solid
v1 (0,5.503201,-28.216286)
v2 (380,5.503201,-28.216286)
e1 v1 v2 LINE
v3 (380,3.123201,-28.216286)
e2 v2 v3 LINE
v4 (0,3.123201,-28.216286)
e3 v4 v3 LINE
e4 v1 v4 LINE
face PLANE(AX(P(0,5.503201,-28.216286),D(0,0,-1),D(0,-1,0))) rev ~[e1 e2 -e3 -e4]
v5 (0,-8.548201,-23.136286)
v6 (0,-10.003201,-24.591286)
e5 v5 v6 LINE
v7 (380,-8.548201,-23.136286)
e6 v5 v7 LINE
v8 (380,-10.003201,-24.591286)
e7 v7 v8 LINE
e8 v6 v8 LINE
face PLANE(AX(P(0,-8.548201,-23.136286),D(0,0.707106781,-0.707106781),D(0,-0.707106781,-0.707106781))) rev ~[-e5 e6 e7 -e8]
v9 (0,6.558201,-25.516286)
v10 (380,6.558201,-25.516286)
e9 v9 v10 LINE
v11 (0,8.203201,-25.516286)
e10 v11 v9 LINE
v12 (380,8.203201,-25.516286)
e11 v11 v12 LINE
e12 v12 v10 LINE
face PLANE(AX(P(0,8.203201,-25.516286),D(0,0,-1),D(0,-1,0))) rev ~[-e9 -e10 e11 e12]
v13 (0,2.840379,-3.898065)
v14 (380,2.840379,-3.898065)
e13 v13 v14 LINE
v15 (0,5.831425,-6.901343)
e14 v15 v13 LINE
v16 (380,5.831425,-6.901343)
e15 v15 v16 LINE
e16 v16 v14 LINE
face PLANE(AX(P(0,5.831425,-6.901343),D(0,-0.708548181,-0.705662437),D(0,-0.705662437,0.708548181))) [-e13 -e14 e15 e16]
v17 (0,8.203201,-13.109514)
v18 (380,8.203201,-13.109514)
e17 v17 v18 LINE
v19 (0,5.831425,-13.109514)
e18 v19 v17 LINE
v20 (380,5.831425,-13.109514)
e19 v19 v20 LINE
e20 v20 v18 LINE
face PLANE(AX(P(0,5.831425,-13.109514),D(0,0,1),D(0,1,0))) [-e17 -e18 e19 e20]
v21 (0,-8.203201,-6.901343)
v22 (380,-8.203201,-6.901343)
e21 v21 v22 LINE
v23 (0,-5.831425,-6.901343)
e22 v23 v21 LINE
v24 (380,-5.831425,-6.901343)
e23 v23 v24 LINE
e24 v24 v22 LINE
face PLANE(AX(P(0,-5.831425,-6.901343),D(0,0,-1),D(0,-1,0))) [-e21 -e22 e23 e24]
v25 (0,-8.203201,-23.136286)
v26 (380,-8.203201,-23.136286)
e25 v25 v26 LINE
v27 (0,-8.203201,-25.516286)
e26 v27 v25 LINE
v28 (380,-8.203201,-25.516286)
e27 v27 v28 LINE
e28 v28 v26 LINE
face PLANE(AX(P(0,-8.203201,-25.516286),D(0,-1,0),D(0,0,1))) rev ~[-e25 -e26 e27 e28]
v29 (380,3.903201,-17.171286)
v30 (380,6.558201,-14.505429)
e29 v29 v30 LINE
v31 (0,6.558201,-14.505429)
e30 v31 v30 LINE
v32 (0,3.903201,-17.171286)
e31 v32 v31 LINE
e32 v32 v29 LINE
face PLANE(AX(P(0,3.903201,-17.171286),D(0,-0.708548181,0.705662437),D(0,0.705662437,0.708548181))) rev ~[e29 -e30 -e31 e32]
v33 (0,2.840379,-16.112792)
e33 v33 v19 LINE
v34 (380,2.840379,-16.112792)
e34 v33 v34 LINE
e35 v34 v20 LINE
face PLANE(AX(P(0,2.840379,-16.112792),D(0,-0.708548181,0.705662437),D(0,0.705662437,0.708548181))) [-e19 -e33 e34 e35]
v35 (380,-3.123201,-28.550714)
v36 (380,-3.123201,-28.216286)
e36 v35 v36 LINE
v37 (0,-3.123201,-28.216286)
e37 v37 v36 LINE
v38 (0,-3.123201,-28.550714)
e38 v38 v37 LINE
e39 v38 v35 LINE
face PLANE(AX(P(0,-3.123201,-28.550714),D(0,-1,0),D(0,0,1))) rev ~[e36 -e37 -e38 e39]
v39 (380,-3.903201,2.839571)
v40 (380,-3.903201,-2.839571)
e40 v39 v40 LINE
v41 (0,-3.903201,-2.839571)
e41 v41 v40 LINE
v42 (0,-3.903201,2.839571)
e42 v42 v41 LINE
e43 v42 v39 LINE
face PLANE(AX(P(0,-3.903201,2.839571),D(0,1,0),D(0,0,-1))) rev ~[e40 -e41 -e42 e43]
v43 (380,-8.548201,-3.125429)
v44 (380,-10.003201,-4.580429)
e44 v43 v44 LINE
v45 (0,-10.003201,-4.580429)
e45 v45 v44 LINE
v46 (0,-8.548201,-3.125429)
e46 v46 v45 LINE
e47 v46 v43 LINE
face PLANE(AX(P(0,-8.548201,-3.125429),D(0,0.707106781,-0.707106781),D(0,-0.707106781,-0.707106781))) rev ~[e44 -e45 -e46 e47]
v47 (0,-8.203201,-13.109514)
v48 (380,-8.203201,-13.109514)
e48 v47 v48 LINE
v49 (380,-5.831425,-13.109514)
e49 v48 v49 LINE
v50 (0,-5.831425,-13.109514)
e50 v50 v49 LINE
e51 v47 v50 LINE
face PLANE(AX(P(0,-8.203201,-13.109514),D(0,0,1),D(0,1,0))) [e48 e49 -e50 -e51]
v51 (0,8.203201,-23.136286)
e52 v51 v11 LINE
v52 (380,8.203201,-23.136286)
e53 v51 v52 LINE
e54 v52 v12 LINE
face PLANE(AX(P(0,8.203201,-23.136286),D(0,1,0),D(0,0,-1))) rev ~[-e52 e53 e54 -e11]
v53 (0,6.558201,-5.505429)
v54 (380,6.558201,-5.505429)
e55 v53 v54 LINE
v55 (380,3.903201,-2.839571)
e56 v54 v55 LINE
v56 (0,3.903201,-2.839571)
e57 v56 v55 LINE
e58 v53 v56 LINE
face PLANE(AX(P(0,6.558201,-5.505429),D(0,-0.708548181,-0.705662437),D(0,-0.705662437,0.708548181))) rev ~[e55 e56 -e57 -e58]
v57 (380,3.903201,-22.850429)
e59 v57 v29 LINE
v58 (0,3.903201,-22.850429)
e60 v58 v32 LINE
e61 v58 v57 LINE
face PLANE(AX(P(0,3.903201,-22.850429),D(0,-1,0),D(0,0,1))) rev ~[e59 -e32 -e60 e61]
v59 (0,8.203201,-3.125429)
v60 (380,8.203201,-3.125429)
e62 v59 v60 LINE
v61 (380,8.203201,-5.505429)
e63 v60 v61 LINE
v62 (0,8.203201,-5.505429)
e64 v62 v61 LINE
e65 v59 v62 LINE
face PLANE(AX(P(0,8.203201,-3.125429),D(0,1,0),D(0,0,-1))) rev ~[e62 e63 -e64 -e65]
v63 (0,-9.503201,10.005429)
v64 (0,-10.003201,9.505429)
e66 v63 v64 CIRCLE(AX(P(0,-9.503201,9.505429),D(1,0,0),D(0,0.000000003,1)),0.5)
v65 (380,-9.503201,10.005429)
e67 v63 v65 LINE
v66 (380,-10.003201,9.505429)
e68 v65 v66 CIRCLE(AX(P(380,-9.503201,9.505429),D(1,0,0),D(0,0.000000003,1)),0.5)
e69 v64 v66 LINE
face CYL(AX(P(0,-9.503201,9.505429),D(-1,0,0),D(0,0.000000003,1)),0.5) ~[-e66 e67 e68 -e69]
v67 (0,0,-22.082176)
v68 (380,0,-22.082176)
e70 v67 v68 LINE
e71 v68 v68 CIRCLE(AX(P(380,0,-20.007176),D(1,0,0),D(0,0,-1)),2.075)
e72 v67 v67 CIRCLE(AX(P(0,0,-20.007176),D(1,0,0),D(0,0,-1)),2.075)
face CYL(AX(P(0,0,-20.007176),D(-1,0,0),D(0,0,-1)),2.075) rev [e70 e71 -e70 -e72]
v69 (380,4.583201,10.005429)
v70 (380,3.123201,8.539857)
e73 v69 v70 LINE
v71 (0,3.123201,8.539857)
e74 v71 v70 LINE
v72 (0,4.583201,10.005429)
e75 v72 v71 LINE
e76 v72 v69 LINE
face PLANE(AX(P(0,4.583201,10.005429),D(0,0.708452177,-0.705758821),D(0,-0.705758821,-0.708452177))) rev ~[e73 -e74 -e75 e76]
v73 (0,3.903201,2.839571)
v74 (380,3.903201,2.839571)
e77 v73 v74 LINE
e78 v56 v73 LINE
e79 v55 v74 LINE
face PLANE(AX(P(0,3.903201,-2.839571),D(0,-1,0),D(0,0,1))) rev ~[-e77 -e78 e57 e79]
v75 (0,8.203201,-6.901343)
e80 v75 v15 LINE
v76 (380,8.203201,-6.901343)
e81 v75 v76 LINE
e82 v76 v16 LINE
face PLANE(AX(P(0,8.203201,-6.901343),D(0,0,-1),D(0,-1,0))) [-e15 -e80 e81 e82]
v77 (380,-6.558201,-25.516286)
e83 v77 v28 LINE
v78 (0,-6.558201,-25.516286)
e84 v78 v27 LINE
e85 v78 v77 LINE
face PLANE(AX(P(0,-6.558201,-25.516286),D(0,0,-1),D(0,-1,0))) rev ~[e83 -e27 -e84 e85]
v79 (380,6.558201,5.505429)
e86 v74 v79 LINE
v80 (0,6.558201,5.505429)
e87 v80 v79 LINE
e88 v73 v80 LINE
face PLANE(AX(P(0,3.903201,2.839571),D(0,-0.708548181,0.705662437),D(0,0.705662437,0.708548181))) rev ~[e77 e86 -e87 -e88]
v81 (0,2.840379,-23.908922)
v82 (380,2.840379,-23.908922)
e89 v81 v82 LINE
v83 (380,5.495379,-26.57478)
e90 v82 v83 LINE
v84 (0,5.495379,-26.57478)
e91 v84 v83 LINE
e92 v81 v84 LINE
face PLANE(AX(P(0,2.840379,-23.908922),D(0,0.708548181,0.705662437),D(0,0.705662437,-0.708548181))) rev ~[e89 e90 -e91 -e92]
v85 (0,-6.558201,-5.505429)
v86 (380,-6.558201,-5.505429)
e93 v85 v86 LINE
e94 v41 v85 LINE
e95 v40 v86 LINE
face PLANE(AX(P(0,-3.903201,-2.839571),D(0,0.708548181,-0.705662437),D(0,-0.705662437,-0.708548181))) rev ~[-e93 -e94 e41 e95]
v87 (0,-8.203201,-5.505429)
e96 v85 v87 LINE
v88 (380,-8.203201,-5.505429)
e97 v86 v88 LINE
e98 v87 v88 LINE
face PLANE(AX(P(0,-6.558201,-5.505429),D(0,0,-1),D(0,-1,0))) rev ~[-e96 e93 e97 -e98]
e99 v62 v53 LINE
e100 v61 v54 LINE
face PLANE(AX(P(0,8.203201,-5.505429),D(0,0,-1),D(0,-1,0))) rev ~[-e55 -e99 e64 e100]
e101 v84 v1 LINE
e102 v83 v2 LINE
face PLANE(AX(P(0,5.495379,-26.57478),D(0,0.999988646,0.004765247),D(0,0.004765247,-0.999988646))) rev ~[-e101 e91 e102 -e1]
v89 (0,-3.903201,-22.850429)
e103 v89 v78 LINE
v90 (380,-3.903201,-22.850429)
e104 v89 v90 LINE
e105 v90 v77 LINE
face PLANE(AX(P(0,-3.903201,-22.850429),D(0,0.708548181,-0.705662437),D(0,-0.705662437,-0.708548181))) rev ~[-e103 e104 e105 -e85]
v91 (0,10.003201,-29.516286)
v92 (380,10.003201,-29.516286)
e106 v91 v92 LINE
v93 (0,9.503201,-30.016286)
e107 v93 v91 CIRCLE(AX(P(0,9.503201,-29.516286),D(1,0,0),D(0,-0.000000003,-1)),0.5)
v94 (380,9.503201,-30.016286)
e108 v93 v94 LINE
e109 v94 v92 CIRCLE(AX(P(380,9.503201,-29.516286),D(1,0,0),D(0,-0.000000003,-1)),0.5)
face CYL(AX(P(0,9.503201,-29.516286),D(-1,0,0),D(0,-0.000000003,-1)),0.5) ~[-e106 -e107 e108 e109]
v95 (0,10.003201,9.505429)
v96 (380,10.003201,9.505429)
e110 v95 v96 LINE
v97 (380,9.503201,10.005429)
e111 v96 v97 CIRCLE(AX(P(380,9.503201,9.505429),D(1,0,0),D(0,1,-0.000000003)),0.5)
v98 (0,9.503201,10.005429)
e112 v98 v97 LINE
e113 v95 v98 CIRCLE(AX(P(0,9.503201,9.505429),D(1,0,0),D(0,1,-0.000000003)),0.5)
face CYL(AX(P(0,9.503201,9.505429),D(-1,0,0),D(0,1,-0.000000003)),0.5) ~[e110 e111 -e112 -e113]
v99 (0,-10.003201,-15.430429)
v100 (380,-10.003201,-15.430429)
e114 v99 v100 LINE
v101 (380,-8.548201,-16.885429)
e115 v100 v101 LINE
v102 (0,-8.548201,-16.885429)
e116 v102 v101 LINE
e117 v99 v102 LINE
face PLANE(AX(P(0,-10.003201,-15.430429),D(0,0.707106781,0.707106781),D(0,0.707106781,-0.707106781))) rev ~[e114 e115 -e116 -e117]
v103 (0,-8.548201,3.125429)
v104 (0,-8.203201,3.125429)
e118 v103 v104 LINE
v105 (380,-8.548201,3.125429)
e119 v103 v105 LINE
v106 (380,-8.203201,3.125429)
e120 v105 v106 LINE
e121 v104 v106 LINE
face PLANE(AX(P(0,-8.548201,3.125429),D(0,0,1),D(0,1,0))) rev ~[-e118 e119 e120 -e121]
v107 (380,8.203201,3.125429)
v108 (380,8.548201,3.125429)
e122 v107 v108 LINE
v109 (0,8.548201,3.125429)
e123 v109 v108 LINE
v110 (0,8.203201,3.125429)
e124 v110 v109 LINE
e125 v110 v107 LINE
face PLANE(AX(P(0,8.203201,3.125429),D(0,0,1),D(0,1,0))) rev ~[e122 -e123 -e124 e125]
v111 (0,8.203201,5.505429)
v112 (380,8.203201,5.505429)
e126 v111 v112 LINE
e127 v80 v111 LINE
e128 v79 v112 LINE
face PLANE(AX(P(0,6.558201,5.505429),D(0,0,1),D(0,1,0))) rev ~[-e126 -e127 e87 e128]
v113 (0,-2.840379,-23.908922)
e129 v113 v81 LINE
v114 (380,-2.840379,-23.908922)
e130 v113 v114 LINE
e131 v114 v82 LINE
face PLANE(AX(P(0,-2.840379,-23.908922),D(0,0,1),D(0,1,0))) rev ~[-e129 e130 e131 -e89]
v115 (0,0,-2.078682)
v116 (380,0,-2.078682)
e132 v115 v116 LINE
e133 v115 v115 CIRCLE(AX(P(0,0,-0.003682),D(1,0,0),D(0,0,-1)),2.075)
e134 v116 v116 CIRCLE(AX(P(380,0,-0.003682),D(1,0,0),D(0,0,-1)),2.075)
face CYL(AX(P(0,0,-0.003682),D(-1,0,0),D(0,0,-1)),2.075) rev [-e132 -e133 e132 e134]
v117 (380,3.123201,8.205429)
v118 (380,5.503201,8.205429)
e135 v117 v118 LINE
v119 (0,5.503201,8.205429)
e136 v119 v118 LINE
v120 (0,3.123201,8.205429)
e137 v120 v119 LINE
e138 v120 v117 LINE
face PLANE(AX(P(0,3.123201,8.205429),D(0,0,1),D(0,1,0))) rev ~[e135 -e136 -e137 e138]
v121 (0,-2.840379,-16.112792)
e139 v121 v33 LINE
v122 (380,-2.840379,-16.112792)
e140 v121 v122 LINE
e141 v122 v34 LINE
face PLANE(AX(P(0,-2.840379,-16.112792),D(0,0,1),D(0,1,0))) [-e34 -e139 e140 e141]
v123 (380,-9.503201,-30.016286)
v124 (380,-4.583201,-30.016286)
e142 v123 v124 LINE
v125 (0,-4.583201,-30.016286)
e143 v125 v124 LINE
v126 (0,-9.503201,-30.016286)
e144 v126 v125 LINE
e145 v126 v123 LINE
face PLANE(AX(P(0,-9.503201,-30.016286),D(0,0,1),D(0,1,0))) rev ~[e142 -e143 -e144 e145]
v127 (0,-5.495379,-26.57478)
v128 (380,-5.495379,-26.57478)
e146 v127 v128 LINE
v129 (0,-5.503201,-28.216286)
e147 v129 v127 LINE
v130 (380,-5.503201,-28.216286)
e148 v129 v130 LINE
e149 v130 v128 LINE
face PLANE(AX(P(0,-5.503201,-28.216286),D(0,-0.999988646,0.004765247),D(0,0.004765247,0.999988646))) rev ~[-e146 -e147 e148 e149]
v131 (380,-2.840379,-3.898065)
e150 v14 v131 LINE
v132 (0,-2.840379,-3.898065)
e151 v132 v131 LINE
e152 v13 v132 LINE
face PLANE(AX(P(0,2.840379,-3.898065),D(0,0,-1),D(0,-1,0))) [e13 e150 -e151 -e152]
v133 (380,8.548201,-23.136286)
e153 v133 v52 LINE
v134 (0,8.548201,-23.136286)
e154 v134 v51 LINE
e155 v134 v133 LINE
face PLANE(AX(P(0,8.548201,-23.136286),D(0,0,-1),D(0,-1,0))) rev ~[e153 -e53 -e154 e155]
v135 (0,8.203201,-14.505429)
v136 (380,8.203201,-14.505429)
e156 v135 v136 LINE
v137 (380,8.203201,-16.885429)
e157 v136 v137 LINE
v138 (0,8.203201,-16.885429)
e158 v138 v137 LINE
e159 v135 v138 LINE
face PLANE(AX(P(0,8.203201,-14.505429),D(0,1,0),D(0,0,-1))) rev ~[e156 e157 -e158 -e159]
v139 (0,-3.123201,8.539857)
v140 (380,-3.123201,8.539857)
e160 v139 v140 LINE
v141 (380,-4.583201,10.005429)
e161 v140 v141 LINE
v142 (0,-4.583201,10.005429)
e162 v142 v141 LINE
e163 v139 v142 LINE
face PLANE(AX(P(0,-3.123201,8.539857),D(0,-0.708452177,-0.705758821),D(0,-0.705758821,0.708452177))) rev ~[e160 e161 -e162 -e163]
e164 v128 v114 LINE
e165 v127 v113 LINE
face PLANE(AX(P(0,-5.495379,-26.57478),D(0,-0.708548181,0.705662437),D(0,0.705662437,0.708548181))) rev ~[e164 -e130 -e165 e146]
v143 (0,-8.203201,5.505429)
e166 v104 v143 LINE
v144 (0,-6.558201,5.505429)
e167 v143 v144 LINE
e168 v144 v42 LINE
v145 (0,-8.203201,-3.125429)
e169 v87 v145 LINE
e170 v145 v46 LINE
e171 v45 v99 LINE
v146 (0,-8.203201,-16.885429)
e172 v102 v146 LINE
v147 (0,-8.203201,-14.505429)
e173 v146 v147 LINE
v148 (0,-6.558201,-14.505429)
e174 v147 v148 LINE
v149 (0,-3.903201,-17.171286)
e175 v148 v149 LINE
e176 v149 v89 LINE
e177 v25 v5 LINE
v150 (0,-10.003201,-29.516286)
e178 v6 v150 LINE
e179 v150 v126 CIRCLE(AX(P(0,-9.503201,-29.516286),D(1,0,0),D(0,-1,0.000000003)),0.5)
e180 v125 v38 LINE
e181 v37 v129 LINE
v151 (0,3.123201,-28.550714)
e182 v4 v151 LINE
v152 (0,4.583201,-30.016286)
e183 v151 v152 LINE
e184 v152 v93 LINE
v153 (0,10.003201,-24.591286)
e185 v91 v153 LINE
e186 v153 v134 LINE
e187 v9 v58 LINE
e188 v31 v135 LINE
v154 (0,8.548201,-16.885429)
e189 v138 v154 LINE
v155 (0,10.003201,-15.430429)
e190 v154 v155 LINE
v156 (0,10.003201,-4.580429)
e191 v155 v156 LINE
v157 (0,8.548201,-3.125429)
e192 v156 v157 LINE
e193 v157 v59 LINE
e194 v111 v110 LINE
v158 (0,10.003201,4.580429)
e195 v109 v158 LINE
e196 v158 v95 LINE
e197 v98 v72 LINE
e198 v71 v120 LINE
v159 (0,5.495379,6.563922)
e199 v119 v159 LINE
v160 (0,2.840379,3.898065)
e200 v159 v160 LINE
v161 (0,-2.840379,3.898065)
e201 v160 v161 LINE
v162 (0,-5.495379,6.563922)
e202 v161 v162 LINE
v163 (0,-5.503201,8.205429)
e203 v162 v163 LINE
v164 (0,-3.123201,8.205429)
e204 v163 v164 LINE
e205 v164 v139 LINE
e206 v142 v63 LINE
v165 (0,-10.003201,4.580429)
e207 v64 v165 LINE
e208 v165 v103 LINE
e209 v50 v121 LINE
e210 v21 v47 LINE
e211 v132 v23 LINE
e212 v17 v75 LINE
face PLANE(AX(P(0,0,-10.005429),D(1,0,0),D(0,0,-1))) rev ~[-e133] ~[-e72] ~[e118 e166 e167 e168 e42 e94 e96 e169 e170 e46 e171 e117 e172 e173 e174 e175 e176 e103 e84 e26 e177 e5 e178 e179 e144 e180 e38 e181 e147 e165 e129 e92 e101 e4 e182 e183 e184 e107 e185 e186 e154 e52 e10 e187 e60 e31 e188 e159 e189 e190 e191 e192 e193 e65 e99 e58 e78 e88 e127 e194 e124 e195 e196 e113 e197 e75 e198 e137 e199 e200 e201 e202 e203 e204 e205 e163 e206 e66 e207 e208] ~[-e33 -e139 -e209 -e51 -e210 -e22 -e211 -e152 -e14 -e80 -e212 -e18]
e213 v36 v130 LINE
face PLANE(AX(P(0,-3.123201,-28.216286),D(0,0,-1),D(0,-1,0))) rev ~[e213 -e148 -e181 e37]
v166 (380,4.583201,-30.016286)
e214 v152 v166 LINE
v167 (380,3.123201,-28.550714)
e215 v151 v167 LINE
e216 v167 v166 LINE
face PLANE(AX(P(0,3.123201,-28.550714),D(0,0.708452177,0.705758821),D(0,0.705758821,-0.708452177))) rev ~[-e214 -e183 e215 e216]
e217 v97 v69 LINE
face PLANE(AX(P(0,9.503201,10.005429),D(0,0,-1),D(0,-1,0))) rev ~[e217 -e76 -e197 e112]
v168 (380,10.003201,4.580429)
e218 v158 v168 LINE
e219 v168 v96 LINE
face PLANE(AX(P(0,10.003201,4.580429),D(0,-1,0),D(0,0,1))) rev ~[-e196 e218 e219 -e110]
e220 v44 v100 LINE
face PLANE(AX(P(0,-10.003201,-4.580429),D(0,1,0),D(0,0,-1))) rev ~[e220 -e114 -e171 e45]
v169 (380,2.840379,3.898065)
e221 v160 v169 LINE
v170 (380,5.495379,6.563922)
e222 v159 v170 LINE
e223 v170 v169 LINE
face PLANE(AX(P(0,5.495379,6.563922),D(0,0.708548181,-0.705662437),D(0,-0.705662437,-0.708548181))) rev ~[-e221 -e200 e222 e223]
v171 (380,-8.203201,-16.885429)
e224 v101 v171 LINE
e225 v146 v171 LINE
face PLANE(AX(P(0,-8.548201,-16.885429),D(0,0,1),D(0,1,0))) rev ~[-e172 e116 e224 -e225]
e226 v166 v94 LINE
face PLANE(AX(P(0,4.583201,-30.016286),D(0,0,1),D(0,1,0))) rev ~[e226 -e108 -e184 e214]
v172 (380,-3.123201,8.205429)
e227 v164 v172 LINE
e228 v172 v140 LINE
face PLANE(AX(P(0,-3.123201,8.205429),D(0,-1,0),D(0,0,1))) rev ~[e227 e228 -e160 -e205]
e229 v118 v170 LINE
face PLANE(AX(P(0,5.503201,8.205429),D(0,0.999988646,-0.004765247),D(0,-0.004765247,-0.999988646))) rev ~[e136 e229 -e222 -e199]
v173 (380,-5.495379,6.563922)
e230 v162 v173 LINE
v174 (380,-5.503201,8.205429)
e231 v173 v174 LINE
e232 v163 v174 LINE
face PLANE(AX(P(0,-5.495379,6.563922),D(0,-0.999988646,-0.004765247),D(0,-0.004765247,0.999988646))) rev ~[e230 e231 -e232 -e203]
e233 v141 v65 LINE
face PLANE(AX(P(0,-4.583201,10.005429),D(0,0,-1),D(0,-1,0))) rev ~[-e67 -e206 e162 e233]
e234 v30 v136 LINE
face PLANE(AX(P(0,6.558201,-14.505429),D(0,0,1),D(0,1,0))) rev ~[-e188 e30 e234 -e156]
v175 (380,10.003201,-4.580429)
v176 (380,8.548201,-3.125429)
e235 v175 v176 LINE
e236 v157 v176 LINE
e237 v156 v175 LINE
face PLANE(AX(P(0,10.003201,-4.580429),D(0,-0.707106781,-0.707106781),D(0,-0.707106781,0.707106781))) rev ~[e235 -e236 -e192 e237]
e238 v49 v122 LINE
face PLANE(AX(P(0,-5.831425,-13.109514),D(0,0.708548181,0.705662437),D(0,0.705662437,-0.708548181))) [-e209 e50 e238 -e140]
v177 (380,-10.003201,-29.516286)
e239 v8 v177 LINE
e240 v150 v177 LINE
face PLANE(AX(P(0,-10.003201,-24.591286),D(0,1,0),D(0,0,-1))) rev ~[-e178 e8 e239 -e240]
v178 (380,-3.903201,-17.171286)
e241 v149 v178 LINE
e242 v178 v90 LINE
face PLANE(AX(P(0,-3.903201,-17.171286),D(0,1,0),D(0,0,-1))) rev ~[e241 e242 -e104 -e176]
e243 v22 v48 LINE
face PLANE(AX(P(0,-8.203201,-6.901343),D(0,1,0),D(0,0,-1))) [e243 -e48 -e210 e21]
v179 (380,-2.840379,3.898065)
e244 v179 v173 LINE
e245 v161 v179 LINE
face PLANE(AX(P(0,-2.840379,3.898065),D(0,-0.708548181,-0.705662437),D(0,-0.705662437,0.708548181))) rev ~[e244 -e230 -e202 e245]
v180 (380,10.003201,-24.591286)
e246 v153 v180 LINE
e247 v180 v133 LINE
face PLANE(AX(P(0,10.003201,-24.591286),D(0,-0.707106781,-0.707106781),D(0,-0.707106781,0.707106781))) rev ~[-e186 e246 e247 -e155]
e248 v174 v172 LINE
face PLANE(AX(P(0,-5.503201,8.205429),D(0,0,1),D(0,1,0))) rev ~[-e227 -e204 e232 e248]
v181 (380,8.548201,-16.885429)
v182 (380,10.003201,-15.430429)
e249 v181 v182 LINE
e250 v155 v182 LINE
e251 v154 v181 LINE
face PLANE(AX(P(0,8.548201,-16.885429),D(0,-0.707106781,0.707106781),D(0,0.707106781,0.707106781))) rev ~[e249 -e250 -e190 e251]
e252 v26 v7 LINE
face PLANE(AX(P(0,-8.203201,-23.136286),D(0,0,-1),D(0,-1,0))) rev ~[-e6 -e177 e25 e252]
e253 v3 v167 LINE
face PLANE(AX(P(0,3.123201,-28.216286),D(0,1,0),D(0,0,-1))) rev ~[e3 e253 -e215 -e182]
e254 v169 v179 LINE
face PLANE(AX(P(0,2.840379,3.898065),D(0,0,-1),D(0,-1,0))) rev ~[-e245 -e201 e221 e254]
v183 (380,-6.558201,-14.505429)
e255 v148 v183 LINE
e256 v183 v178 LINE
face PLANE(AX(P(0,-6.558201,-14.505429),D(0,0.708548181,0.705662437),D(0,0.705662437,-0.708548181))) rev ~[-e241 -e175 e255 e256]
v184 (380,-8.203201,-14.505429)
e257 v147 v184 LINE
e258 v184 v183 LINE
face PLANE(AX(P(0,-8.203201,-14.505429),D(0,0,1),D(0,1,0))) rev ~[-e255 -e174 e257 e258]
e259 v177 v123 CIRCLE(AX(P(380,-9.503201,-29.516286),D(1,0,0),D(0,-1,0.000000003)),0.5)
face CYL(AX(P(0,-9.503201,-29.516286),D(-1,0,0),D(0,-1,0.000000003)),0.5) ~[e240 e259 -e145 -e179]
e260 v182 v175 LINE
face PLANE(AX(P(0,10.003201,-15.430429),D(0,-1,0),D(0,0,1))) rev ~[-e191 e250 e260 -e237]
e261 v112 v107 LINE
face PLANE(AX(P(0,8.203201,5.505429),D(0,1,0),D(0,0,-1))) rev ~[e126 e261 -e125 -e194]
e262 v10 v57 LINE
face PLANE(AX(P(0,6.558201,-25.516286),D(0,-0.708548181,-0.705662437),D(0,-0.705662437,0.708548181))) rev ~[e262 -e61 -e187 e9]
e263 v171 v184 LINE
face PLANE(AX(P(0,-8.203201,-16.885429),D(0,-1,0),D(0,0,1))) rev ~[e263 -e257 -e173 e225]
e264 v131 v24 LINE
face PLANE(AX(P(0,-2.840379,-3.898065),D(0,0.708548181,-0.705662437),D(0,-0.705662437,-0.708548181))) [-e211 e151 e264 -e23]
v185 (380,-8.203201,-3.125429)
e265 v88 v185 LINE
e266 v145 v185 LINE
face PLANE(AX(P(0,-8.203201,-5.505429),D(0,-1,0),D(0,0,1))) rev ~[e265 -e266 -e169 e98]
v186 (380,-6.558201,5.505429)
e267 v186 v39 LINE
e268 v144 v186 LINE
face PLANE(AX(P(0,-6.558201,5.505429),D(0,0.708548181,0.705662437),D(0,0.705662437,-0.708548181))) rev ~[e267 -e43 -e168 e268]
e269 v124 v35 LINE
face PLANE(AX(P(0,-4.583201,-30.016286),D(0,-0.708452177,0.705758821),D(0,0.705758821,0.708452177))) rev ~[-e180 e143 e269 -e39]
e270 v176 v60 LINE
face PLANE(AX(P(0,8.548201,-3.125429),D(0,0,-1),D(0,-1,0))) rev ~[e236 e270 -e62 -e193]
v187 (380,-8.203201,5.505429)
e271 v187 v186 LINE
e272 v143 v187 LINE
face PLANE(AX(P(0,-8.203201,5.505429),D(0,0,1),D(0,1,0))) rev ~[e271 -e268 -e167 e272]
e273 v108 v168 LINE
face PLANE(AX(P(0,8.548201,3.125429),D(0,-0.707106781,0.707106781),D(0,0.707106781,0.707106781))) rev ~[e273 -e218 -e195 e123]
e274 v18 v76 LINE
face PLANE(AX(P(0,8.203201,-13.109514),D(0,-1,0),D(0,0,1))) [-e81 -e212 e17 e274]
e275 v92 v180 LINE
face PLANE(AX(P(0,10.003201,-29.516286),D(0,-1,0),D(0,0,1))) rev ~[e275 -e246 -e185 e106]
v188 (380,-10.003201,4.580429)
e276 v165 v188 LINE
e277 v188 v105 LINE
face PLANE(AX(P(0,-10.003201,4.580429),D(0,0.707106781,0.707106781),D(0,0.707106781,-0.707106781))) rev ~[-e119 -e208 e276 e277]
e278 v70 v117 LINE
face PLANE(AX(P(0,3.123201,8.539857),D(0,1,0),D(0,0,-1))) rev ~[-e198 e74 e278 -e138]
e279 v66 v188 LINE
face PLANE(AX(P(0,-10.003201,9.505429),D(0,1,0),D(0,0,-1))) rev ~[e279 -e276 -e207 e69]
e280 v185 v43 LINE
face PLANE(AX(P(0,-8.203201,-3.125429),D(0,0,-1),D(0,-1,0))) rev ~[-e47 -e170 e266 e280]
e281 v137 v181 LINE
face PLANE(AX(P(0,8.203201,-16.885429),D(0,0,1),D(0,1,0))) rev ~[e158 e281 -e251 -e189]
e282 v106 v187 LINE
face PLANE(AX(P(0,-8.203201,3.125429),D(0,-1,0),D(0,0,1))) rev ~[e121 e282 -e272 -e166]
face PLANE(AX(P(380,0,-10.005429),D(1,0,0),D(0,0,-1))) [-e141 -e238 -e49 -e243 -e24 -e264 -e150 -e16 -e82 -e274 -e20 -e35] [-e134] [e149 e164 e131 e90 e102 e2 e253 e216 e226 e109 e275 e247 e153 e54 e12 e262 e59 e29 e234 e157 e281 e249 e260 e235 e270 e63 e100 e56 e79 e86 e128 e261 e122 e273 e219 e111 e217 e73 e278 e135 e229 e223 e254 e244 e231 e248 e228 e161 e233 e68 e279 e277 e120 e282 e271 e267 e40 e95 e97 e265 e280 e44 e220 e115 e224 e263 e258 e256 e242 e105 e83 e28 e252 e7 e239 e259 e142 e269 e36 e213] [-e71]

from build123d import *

# Parameters (mm, degrees)
SKETCH2_R           = 2.075
BOSS_EXTRUDE1_DEPTH = 380


with BuildPart() as part:
    # Sketch2 → Boss-Extrude1 (new body)
    with BuildSketch(Plane(origin=(0, 0, 0), x_dir=(0, 0, -1), z_dir=(1, 0, 0))):
        with BuildLine():
            Line((3.125428693, 8.548200862), (3.125428693, 8.203200862))
            Line((3.125428693, 8.203200862), (5.505428693, 8.203200862))
            Line((5.505428693, 8.203200862), (5.505428693, 6.558200862))
            Line((5.505428693, 6.558200862), (2.839571307, 3.903200862))
            Line((2.839571307, 3.903200862), (-2.839571307, 3.903200862))
            Line((-2.839571307, 3.903200862), (-5.505428693, 6.558200862))
            Line((-5.505428693, 6.558200862), (-5.505428693, 8.203200862))
            Line((-5.505428693, 8.203200862), (-3.125428693, 8.203200862))
            Line((-3.125428693, 8.203200862), (-3.125428693, 8.548200862))
            Line((-3.125428693, 8.548200862), (-4.580428693, 10.003200862))
            Line((-4.580428693, 10.003200862), (-9.505428693, 10.003200862))
            ThreePointArc((-9.505428693, 10.003200862), (-9.858982084, 9.856754253), (-10.005428693, 9.503200862))
            Line((-10.005428693, 9.503200862), (-10.005428693, 4.583200862))
            Line((-10.005428693, 4.583200862), (-8.53985696, 3.123200862))
            Line((-8.53985696, 3.123200862), (-8.205428693, 3.123200862))
            Line((-8.205428693, 3.123200862), (-8.205428693, 5.503200862))
            Line((-8.205428693, 5.503200862), (-6.563922349, 5.49537859))
            Line((-6.563922349, 5.49537859), (-3.898064962, 2.84037859))
            Line((-3.898064962, 2.84037859), (-3.898064962, -2.84037859))
            Line((-3.898064962, -2.84037859), (-6.563922349, -5.49537859))
            Line((-6.563922349, -5.49537859), (-8.205428693, -5.503200862))
            Line((-8.205428693, -5.503200862), (-8.205428693, -3.123200862))
            Line((-8.205428693, -3.123200862), (-8.53985696, -3.123200862))
            Line((-8.53985696, -3.123200862), (-10.005428693, -4.583200862))
            Line((-10.005428693, -4.583200862), (-10.005428693, -9.503200862))
            ThreePointArc((-10.005428693, -9.503200862), (-9.858982084, -9.856754253), (-9.505428693, -10.003200862))
            Line((-9.505428693, -10.003200862), (-4.580428693, -10.003200862))
            Line((-4.580428693, -10.003200862), (-3.125428693, -8.548200862))
            Line((-3.125428693, -8.548200862), (-3.125428693, -8.203200862))
            Line((-3.125428693, -8.203200862), (-5.505428693, -8.203200862))
            Line((-5.505428693, -8.203200862), (-5.505428693, -6.558200862))
            Line((-5.505428693, -6.558200862), (-2.839571307, -3.903200862))
            Line((-2.839571307, -3.903200862), (2.839571307, -3.903200862))
            Line((2.839571307, -3.903200862), (5.505428693, -6.558200862))
            Line((5.505428693, -6.558200862), (5.505428693, -8.203200862))
            Line((5.505428693, -8.203200862), (3.125428693, -8.203200862))
            Line((3.125428693, -8.203200862), (3.125428693, -8.548200862))
            Line((3.125428693, -8.548200862), (4.580428693, -10.003200862))
            Line((4.580428693, -10.003200862), (15.430428693, -10.003200862))
            Line((15.430428693, -10.003200862), (16.885428693, -8.548200862))
            Line((16.885428693, -8.548200862), (16.885428693, -8.203200862))
            Line((16.885428693, -8.203200862), (14.505428693, -8.203200862))
            Line((14.505428693, -8.203200862), (14.505428693, -6.558200862))
            Line((14.505428693, -6.558200862), (17.17128608, -3.903200862))
            Line((17.17128608, -3.903200862), (22.850428693, -3.903200862))
            Line((22.850428693, -3.903200862), (25.51628608, -6.558200862))
            Line((25.51628608, -6.558200862), (25.51628608, -8.203200862))
            Line((25.51628608, -8.203200862), (23.13628608, -8.203200862))
            Line((23.13628608, -8.203200862), (23.13628608, -8.548200862))
            Line((23.13628608, -8.548200862), (24.59128608, -10.003200862))
            Line((24.59128608, -10.003200862), (29.51628608, -10.003200862))
            ThreePointArc((29.51628608, -10.003200862), (29.869839471, -9.856754253), (30.01628608, -9.503200862))
            Line((30.01628608, -9.503200862), (30.01628608, -4.583200862))
            Line((30.01628608, -4.583200862), (28.550714346, -3.123200862))
            Line((28.550714346, -3.123200862), (28.21628608, -3.123200862))
            Line((28.21628608, -3.123200862), (28.21628608, -5.503200862))
            Line((28.21628608, -5.503200862), (26.574779736, -5.49537859))
            Line((26.574779736, -5.49537859), (23.908922349, -2.84037859))
            Line((23.908922349, -2.84037859), (23.908922349, 2.84037859))
            Line((23.908922349, 2.84037859), (26.574779736, 5.49537859))
            Line((26.574779736, 5.49537859), (28.21628608, 5.503200862))
            Line((28.21628608, 5.503200862), (28.21628608, 3.123200862))
            Line((28.21628608, 3.123200862), (28.550714346, 3.123200862))
            Line((28.550714346, 3.123200862), (30.01628608, 4.583200862))
            Line((30.01628608, 4.583200862), (30.01628608, 9.503200862))
            ThreePointArc((30.01628608, 9.503200862), (29.869839471, 9.856754253), (29.51628608, 10.003200862))
            Line((29.51628608, 10.003200862), (24.59128608, 10.003200862))
            Line((24.59128608, 10.003200862), (23.13628608, 8.548200862))
            Line((23.13628608, 8.548200862), (23.13628608, 8.203200862))
            Line((23.13628608, 8.203200862), (25.51628608, 8.203200862))
            Line((25.51628608, 8.203200862), (25.51628608, 6.558200862))
            Line((25.51628608, 6.558200862), (22.850428693, 3.903200862))
            Line((22.850428693, 3.903200862), (17.17128608, 3.903200862))
            Line((17.17128608, 3.903200862), (14.505428693, 6.558200862))
            Line((14.505428693, 6.558200862), (14.505428693, 8.203200862))
            Line((14.505428693, 8.203200862), (16.885428693, 8.203200862))
            Line((16.885428693, 8.203200862), (16.885428693, 8.548200862))
            Line((16.885428693, 8.548200862), (15.430428693, 10.003200862))
            Line((15.430428693, 10.003200862), (4.580428693, 10.003200862))
            Line((4.580428693, 10.003200862), (3.125428693, 8.548200862))
        make_face()
        with Locations((0.003681866, 0)):
            Circle(SKETCH2_R, mode=Mode.SUBTRACT)
        with Locations((20.007175521, 0)):
            Circle(SKETCH2_R, mode=Mode.SUBTRACT)
        Polygon((3.898064962, 2.84037859), (3.898064962, -2.84037859), (6.90134296, -5.83142497), (6.90134296, -8.203200862), (13.109514426, -8.203200862), (13.109514426, -5.83142497), (16.112792425, -2.84037859), (16.112792425, 2.84037859), (13.109514426, 5.83142497), (13.109514426, 8.203200862), (6.90134296, 8.203200862), (6.90134296, 5.83142497), align=None, mode=Mode.SUBTRACT)
    extrude(amount=BOSS_EXTRUDE1_DEPTH)


solid = part.part
